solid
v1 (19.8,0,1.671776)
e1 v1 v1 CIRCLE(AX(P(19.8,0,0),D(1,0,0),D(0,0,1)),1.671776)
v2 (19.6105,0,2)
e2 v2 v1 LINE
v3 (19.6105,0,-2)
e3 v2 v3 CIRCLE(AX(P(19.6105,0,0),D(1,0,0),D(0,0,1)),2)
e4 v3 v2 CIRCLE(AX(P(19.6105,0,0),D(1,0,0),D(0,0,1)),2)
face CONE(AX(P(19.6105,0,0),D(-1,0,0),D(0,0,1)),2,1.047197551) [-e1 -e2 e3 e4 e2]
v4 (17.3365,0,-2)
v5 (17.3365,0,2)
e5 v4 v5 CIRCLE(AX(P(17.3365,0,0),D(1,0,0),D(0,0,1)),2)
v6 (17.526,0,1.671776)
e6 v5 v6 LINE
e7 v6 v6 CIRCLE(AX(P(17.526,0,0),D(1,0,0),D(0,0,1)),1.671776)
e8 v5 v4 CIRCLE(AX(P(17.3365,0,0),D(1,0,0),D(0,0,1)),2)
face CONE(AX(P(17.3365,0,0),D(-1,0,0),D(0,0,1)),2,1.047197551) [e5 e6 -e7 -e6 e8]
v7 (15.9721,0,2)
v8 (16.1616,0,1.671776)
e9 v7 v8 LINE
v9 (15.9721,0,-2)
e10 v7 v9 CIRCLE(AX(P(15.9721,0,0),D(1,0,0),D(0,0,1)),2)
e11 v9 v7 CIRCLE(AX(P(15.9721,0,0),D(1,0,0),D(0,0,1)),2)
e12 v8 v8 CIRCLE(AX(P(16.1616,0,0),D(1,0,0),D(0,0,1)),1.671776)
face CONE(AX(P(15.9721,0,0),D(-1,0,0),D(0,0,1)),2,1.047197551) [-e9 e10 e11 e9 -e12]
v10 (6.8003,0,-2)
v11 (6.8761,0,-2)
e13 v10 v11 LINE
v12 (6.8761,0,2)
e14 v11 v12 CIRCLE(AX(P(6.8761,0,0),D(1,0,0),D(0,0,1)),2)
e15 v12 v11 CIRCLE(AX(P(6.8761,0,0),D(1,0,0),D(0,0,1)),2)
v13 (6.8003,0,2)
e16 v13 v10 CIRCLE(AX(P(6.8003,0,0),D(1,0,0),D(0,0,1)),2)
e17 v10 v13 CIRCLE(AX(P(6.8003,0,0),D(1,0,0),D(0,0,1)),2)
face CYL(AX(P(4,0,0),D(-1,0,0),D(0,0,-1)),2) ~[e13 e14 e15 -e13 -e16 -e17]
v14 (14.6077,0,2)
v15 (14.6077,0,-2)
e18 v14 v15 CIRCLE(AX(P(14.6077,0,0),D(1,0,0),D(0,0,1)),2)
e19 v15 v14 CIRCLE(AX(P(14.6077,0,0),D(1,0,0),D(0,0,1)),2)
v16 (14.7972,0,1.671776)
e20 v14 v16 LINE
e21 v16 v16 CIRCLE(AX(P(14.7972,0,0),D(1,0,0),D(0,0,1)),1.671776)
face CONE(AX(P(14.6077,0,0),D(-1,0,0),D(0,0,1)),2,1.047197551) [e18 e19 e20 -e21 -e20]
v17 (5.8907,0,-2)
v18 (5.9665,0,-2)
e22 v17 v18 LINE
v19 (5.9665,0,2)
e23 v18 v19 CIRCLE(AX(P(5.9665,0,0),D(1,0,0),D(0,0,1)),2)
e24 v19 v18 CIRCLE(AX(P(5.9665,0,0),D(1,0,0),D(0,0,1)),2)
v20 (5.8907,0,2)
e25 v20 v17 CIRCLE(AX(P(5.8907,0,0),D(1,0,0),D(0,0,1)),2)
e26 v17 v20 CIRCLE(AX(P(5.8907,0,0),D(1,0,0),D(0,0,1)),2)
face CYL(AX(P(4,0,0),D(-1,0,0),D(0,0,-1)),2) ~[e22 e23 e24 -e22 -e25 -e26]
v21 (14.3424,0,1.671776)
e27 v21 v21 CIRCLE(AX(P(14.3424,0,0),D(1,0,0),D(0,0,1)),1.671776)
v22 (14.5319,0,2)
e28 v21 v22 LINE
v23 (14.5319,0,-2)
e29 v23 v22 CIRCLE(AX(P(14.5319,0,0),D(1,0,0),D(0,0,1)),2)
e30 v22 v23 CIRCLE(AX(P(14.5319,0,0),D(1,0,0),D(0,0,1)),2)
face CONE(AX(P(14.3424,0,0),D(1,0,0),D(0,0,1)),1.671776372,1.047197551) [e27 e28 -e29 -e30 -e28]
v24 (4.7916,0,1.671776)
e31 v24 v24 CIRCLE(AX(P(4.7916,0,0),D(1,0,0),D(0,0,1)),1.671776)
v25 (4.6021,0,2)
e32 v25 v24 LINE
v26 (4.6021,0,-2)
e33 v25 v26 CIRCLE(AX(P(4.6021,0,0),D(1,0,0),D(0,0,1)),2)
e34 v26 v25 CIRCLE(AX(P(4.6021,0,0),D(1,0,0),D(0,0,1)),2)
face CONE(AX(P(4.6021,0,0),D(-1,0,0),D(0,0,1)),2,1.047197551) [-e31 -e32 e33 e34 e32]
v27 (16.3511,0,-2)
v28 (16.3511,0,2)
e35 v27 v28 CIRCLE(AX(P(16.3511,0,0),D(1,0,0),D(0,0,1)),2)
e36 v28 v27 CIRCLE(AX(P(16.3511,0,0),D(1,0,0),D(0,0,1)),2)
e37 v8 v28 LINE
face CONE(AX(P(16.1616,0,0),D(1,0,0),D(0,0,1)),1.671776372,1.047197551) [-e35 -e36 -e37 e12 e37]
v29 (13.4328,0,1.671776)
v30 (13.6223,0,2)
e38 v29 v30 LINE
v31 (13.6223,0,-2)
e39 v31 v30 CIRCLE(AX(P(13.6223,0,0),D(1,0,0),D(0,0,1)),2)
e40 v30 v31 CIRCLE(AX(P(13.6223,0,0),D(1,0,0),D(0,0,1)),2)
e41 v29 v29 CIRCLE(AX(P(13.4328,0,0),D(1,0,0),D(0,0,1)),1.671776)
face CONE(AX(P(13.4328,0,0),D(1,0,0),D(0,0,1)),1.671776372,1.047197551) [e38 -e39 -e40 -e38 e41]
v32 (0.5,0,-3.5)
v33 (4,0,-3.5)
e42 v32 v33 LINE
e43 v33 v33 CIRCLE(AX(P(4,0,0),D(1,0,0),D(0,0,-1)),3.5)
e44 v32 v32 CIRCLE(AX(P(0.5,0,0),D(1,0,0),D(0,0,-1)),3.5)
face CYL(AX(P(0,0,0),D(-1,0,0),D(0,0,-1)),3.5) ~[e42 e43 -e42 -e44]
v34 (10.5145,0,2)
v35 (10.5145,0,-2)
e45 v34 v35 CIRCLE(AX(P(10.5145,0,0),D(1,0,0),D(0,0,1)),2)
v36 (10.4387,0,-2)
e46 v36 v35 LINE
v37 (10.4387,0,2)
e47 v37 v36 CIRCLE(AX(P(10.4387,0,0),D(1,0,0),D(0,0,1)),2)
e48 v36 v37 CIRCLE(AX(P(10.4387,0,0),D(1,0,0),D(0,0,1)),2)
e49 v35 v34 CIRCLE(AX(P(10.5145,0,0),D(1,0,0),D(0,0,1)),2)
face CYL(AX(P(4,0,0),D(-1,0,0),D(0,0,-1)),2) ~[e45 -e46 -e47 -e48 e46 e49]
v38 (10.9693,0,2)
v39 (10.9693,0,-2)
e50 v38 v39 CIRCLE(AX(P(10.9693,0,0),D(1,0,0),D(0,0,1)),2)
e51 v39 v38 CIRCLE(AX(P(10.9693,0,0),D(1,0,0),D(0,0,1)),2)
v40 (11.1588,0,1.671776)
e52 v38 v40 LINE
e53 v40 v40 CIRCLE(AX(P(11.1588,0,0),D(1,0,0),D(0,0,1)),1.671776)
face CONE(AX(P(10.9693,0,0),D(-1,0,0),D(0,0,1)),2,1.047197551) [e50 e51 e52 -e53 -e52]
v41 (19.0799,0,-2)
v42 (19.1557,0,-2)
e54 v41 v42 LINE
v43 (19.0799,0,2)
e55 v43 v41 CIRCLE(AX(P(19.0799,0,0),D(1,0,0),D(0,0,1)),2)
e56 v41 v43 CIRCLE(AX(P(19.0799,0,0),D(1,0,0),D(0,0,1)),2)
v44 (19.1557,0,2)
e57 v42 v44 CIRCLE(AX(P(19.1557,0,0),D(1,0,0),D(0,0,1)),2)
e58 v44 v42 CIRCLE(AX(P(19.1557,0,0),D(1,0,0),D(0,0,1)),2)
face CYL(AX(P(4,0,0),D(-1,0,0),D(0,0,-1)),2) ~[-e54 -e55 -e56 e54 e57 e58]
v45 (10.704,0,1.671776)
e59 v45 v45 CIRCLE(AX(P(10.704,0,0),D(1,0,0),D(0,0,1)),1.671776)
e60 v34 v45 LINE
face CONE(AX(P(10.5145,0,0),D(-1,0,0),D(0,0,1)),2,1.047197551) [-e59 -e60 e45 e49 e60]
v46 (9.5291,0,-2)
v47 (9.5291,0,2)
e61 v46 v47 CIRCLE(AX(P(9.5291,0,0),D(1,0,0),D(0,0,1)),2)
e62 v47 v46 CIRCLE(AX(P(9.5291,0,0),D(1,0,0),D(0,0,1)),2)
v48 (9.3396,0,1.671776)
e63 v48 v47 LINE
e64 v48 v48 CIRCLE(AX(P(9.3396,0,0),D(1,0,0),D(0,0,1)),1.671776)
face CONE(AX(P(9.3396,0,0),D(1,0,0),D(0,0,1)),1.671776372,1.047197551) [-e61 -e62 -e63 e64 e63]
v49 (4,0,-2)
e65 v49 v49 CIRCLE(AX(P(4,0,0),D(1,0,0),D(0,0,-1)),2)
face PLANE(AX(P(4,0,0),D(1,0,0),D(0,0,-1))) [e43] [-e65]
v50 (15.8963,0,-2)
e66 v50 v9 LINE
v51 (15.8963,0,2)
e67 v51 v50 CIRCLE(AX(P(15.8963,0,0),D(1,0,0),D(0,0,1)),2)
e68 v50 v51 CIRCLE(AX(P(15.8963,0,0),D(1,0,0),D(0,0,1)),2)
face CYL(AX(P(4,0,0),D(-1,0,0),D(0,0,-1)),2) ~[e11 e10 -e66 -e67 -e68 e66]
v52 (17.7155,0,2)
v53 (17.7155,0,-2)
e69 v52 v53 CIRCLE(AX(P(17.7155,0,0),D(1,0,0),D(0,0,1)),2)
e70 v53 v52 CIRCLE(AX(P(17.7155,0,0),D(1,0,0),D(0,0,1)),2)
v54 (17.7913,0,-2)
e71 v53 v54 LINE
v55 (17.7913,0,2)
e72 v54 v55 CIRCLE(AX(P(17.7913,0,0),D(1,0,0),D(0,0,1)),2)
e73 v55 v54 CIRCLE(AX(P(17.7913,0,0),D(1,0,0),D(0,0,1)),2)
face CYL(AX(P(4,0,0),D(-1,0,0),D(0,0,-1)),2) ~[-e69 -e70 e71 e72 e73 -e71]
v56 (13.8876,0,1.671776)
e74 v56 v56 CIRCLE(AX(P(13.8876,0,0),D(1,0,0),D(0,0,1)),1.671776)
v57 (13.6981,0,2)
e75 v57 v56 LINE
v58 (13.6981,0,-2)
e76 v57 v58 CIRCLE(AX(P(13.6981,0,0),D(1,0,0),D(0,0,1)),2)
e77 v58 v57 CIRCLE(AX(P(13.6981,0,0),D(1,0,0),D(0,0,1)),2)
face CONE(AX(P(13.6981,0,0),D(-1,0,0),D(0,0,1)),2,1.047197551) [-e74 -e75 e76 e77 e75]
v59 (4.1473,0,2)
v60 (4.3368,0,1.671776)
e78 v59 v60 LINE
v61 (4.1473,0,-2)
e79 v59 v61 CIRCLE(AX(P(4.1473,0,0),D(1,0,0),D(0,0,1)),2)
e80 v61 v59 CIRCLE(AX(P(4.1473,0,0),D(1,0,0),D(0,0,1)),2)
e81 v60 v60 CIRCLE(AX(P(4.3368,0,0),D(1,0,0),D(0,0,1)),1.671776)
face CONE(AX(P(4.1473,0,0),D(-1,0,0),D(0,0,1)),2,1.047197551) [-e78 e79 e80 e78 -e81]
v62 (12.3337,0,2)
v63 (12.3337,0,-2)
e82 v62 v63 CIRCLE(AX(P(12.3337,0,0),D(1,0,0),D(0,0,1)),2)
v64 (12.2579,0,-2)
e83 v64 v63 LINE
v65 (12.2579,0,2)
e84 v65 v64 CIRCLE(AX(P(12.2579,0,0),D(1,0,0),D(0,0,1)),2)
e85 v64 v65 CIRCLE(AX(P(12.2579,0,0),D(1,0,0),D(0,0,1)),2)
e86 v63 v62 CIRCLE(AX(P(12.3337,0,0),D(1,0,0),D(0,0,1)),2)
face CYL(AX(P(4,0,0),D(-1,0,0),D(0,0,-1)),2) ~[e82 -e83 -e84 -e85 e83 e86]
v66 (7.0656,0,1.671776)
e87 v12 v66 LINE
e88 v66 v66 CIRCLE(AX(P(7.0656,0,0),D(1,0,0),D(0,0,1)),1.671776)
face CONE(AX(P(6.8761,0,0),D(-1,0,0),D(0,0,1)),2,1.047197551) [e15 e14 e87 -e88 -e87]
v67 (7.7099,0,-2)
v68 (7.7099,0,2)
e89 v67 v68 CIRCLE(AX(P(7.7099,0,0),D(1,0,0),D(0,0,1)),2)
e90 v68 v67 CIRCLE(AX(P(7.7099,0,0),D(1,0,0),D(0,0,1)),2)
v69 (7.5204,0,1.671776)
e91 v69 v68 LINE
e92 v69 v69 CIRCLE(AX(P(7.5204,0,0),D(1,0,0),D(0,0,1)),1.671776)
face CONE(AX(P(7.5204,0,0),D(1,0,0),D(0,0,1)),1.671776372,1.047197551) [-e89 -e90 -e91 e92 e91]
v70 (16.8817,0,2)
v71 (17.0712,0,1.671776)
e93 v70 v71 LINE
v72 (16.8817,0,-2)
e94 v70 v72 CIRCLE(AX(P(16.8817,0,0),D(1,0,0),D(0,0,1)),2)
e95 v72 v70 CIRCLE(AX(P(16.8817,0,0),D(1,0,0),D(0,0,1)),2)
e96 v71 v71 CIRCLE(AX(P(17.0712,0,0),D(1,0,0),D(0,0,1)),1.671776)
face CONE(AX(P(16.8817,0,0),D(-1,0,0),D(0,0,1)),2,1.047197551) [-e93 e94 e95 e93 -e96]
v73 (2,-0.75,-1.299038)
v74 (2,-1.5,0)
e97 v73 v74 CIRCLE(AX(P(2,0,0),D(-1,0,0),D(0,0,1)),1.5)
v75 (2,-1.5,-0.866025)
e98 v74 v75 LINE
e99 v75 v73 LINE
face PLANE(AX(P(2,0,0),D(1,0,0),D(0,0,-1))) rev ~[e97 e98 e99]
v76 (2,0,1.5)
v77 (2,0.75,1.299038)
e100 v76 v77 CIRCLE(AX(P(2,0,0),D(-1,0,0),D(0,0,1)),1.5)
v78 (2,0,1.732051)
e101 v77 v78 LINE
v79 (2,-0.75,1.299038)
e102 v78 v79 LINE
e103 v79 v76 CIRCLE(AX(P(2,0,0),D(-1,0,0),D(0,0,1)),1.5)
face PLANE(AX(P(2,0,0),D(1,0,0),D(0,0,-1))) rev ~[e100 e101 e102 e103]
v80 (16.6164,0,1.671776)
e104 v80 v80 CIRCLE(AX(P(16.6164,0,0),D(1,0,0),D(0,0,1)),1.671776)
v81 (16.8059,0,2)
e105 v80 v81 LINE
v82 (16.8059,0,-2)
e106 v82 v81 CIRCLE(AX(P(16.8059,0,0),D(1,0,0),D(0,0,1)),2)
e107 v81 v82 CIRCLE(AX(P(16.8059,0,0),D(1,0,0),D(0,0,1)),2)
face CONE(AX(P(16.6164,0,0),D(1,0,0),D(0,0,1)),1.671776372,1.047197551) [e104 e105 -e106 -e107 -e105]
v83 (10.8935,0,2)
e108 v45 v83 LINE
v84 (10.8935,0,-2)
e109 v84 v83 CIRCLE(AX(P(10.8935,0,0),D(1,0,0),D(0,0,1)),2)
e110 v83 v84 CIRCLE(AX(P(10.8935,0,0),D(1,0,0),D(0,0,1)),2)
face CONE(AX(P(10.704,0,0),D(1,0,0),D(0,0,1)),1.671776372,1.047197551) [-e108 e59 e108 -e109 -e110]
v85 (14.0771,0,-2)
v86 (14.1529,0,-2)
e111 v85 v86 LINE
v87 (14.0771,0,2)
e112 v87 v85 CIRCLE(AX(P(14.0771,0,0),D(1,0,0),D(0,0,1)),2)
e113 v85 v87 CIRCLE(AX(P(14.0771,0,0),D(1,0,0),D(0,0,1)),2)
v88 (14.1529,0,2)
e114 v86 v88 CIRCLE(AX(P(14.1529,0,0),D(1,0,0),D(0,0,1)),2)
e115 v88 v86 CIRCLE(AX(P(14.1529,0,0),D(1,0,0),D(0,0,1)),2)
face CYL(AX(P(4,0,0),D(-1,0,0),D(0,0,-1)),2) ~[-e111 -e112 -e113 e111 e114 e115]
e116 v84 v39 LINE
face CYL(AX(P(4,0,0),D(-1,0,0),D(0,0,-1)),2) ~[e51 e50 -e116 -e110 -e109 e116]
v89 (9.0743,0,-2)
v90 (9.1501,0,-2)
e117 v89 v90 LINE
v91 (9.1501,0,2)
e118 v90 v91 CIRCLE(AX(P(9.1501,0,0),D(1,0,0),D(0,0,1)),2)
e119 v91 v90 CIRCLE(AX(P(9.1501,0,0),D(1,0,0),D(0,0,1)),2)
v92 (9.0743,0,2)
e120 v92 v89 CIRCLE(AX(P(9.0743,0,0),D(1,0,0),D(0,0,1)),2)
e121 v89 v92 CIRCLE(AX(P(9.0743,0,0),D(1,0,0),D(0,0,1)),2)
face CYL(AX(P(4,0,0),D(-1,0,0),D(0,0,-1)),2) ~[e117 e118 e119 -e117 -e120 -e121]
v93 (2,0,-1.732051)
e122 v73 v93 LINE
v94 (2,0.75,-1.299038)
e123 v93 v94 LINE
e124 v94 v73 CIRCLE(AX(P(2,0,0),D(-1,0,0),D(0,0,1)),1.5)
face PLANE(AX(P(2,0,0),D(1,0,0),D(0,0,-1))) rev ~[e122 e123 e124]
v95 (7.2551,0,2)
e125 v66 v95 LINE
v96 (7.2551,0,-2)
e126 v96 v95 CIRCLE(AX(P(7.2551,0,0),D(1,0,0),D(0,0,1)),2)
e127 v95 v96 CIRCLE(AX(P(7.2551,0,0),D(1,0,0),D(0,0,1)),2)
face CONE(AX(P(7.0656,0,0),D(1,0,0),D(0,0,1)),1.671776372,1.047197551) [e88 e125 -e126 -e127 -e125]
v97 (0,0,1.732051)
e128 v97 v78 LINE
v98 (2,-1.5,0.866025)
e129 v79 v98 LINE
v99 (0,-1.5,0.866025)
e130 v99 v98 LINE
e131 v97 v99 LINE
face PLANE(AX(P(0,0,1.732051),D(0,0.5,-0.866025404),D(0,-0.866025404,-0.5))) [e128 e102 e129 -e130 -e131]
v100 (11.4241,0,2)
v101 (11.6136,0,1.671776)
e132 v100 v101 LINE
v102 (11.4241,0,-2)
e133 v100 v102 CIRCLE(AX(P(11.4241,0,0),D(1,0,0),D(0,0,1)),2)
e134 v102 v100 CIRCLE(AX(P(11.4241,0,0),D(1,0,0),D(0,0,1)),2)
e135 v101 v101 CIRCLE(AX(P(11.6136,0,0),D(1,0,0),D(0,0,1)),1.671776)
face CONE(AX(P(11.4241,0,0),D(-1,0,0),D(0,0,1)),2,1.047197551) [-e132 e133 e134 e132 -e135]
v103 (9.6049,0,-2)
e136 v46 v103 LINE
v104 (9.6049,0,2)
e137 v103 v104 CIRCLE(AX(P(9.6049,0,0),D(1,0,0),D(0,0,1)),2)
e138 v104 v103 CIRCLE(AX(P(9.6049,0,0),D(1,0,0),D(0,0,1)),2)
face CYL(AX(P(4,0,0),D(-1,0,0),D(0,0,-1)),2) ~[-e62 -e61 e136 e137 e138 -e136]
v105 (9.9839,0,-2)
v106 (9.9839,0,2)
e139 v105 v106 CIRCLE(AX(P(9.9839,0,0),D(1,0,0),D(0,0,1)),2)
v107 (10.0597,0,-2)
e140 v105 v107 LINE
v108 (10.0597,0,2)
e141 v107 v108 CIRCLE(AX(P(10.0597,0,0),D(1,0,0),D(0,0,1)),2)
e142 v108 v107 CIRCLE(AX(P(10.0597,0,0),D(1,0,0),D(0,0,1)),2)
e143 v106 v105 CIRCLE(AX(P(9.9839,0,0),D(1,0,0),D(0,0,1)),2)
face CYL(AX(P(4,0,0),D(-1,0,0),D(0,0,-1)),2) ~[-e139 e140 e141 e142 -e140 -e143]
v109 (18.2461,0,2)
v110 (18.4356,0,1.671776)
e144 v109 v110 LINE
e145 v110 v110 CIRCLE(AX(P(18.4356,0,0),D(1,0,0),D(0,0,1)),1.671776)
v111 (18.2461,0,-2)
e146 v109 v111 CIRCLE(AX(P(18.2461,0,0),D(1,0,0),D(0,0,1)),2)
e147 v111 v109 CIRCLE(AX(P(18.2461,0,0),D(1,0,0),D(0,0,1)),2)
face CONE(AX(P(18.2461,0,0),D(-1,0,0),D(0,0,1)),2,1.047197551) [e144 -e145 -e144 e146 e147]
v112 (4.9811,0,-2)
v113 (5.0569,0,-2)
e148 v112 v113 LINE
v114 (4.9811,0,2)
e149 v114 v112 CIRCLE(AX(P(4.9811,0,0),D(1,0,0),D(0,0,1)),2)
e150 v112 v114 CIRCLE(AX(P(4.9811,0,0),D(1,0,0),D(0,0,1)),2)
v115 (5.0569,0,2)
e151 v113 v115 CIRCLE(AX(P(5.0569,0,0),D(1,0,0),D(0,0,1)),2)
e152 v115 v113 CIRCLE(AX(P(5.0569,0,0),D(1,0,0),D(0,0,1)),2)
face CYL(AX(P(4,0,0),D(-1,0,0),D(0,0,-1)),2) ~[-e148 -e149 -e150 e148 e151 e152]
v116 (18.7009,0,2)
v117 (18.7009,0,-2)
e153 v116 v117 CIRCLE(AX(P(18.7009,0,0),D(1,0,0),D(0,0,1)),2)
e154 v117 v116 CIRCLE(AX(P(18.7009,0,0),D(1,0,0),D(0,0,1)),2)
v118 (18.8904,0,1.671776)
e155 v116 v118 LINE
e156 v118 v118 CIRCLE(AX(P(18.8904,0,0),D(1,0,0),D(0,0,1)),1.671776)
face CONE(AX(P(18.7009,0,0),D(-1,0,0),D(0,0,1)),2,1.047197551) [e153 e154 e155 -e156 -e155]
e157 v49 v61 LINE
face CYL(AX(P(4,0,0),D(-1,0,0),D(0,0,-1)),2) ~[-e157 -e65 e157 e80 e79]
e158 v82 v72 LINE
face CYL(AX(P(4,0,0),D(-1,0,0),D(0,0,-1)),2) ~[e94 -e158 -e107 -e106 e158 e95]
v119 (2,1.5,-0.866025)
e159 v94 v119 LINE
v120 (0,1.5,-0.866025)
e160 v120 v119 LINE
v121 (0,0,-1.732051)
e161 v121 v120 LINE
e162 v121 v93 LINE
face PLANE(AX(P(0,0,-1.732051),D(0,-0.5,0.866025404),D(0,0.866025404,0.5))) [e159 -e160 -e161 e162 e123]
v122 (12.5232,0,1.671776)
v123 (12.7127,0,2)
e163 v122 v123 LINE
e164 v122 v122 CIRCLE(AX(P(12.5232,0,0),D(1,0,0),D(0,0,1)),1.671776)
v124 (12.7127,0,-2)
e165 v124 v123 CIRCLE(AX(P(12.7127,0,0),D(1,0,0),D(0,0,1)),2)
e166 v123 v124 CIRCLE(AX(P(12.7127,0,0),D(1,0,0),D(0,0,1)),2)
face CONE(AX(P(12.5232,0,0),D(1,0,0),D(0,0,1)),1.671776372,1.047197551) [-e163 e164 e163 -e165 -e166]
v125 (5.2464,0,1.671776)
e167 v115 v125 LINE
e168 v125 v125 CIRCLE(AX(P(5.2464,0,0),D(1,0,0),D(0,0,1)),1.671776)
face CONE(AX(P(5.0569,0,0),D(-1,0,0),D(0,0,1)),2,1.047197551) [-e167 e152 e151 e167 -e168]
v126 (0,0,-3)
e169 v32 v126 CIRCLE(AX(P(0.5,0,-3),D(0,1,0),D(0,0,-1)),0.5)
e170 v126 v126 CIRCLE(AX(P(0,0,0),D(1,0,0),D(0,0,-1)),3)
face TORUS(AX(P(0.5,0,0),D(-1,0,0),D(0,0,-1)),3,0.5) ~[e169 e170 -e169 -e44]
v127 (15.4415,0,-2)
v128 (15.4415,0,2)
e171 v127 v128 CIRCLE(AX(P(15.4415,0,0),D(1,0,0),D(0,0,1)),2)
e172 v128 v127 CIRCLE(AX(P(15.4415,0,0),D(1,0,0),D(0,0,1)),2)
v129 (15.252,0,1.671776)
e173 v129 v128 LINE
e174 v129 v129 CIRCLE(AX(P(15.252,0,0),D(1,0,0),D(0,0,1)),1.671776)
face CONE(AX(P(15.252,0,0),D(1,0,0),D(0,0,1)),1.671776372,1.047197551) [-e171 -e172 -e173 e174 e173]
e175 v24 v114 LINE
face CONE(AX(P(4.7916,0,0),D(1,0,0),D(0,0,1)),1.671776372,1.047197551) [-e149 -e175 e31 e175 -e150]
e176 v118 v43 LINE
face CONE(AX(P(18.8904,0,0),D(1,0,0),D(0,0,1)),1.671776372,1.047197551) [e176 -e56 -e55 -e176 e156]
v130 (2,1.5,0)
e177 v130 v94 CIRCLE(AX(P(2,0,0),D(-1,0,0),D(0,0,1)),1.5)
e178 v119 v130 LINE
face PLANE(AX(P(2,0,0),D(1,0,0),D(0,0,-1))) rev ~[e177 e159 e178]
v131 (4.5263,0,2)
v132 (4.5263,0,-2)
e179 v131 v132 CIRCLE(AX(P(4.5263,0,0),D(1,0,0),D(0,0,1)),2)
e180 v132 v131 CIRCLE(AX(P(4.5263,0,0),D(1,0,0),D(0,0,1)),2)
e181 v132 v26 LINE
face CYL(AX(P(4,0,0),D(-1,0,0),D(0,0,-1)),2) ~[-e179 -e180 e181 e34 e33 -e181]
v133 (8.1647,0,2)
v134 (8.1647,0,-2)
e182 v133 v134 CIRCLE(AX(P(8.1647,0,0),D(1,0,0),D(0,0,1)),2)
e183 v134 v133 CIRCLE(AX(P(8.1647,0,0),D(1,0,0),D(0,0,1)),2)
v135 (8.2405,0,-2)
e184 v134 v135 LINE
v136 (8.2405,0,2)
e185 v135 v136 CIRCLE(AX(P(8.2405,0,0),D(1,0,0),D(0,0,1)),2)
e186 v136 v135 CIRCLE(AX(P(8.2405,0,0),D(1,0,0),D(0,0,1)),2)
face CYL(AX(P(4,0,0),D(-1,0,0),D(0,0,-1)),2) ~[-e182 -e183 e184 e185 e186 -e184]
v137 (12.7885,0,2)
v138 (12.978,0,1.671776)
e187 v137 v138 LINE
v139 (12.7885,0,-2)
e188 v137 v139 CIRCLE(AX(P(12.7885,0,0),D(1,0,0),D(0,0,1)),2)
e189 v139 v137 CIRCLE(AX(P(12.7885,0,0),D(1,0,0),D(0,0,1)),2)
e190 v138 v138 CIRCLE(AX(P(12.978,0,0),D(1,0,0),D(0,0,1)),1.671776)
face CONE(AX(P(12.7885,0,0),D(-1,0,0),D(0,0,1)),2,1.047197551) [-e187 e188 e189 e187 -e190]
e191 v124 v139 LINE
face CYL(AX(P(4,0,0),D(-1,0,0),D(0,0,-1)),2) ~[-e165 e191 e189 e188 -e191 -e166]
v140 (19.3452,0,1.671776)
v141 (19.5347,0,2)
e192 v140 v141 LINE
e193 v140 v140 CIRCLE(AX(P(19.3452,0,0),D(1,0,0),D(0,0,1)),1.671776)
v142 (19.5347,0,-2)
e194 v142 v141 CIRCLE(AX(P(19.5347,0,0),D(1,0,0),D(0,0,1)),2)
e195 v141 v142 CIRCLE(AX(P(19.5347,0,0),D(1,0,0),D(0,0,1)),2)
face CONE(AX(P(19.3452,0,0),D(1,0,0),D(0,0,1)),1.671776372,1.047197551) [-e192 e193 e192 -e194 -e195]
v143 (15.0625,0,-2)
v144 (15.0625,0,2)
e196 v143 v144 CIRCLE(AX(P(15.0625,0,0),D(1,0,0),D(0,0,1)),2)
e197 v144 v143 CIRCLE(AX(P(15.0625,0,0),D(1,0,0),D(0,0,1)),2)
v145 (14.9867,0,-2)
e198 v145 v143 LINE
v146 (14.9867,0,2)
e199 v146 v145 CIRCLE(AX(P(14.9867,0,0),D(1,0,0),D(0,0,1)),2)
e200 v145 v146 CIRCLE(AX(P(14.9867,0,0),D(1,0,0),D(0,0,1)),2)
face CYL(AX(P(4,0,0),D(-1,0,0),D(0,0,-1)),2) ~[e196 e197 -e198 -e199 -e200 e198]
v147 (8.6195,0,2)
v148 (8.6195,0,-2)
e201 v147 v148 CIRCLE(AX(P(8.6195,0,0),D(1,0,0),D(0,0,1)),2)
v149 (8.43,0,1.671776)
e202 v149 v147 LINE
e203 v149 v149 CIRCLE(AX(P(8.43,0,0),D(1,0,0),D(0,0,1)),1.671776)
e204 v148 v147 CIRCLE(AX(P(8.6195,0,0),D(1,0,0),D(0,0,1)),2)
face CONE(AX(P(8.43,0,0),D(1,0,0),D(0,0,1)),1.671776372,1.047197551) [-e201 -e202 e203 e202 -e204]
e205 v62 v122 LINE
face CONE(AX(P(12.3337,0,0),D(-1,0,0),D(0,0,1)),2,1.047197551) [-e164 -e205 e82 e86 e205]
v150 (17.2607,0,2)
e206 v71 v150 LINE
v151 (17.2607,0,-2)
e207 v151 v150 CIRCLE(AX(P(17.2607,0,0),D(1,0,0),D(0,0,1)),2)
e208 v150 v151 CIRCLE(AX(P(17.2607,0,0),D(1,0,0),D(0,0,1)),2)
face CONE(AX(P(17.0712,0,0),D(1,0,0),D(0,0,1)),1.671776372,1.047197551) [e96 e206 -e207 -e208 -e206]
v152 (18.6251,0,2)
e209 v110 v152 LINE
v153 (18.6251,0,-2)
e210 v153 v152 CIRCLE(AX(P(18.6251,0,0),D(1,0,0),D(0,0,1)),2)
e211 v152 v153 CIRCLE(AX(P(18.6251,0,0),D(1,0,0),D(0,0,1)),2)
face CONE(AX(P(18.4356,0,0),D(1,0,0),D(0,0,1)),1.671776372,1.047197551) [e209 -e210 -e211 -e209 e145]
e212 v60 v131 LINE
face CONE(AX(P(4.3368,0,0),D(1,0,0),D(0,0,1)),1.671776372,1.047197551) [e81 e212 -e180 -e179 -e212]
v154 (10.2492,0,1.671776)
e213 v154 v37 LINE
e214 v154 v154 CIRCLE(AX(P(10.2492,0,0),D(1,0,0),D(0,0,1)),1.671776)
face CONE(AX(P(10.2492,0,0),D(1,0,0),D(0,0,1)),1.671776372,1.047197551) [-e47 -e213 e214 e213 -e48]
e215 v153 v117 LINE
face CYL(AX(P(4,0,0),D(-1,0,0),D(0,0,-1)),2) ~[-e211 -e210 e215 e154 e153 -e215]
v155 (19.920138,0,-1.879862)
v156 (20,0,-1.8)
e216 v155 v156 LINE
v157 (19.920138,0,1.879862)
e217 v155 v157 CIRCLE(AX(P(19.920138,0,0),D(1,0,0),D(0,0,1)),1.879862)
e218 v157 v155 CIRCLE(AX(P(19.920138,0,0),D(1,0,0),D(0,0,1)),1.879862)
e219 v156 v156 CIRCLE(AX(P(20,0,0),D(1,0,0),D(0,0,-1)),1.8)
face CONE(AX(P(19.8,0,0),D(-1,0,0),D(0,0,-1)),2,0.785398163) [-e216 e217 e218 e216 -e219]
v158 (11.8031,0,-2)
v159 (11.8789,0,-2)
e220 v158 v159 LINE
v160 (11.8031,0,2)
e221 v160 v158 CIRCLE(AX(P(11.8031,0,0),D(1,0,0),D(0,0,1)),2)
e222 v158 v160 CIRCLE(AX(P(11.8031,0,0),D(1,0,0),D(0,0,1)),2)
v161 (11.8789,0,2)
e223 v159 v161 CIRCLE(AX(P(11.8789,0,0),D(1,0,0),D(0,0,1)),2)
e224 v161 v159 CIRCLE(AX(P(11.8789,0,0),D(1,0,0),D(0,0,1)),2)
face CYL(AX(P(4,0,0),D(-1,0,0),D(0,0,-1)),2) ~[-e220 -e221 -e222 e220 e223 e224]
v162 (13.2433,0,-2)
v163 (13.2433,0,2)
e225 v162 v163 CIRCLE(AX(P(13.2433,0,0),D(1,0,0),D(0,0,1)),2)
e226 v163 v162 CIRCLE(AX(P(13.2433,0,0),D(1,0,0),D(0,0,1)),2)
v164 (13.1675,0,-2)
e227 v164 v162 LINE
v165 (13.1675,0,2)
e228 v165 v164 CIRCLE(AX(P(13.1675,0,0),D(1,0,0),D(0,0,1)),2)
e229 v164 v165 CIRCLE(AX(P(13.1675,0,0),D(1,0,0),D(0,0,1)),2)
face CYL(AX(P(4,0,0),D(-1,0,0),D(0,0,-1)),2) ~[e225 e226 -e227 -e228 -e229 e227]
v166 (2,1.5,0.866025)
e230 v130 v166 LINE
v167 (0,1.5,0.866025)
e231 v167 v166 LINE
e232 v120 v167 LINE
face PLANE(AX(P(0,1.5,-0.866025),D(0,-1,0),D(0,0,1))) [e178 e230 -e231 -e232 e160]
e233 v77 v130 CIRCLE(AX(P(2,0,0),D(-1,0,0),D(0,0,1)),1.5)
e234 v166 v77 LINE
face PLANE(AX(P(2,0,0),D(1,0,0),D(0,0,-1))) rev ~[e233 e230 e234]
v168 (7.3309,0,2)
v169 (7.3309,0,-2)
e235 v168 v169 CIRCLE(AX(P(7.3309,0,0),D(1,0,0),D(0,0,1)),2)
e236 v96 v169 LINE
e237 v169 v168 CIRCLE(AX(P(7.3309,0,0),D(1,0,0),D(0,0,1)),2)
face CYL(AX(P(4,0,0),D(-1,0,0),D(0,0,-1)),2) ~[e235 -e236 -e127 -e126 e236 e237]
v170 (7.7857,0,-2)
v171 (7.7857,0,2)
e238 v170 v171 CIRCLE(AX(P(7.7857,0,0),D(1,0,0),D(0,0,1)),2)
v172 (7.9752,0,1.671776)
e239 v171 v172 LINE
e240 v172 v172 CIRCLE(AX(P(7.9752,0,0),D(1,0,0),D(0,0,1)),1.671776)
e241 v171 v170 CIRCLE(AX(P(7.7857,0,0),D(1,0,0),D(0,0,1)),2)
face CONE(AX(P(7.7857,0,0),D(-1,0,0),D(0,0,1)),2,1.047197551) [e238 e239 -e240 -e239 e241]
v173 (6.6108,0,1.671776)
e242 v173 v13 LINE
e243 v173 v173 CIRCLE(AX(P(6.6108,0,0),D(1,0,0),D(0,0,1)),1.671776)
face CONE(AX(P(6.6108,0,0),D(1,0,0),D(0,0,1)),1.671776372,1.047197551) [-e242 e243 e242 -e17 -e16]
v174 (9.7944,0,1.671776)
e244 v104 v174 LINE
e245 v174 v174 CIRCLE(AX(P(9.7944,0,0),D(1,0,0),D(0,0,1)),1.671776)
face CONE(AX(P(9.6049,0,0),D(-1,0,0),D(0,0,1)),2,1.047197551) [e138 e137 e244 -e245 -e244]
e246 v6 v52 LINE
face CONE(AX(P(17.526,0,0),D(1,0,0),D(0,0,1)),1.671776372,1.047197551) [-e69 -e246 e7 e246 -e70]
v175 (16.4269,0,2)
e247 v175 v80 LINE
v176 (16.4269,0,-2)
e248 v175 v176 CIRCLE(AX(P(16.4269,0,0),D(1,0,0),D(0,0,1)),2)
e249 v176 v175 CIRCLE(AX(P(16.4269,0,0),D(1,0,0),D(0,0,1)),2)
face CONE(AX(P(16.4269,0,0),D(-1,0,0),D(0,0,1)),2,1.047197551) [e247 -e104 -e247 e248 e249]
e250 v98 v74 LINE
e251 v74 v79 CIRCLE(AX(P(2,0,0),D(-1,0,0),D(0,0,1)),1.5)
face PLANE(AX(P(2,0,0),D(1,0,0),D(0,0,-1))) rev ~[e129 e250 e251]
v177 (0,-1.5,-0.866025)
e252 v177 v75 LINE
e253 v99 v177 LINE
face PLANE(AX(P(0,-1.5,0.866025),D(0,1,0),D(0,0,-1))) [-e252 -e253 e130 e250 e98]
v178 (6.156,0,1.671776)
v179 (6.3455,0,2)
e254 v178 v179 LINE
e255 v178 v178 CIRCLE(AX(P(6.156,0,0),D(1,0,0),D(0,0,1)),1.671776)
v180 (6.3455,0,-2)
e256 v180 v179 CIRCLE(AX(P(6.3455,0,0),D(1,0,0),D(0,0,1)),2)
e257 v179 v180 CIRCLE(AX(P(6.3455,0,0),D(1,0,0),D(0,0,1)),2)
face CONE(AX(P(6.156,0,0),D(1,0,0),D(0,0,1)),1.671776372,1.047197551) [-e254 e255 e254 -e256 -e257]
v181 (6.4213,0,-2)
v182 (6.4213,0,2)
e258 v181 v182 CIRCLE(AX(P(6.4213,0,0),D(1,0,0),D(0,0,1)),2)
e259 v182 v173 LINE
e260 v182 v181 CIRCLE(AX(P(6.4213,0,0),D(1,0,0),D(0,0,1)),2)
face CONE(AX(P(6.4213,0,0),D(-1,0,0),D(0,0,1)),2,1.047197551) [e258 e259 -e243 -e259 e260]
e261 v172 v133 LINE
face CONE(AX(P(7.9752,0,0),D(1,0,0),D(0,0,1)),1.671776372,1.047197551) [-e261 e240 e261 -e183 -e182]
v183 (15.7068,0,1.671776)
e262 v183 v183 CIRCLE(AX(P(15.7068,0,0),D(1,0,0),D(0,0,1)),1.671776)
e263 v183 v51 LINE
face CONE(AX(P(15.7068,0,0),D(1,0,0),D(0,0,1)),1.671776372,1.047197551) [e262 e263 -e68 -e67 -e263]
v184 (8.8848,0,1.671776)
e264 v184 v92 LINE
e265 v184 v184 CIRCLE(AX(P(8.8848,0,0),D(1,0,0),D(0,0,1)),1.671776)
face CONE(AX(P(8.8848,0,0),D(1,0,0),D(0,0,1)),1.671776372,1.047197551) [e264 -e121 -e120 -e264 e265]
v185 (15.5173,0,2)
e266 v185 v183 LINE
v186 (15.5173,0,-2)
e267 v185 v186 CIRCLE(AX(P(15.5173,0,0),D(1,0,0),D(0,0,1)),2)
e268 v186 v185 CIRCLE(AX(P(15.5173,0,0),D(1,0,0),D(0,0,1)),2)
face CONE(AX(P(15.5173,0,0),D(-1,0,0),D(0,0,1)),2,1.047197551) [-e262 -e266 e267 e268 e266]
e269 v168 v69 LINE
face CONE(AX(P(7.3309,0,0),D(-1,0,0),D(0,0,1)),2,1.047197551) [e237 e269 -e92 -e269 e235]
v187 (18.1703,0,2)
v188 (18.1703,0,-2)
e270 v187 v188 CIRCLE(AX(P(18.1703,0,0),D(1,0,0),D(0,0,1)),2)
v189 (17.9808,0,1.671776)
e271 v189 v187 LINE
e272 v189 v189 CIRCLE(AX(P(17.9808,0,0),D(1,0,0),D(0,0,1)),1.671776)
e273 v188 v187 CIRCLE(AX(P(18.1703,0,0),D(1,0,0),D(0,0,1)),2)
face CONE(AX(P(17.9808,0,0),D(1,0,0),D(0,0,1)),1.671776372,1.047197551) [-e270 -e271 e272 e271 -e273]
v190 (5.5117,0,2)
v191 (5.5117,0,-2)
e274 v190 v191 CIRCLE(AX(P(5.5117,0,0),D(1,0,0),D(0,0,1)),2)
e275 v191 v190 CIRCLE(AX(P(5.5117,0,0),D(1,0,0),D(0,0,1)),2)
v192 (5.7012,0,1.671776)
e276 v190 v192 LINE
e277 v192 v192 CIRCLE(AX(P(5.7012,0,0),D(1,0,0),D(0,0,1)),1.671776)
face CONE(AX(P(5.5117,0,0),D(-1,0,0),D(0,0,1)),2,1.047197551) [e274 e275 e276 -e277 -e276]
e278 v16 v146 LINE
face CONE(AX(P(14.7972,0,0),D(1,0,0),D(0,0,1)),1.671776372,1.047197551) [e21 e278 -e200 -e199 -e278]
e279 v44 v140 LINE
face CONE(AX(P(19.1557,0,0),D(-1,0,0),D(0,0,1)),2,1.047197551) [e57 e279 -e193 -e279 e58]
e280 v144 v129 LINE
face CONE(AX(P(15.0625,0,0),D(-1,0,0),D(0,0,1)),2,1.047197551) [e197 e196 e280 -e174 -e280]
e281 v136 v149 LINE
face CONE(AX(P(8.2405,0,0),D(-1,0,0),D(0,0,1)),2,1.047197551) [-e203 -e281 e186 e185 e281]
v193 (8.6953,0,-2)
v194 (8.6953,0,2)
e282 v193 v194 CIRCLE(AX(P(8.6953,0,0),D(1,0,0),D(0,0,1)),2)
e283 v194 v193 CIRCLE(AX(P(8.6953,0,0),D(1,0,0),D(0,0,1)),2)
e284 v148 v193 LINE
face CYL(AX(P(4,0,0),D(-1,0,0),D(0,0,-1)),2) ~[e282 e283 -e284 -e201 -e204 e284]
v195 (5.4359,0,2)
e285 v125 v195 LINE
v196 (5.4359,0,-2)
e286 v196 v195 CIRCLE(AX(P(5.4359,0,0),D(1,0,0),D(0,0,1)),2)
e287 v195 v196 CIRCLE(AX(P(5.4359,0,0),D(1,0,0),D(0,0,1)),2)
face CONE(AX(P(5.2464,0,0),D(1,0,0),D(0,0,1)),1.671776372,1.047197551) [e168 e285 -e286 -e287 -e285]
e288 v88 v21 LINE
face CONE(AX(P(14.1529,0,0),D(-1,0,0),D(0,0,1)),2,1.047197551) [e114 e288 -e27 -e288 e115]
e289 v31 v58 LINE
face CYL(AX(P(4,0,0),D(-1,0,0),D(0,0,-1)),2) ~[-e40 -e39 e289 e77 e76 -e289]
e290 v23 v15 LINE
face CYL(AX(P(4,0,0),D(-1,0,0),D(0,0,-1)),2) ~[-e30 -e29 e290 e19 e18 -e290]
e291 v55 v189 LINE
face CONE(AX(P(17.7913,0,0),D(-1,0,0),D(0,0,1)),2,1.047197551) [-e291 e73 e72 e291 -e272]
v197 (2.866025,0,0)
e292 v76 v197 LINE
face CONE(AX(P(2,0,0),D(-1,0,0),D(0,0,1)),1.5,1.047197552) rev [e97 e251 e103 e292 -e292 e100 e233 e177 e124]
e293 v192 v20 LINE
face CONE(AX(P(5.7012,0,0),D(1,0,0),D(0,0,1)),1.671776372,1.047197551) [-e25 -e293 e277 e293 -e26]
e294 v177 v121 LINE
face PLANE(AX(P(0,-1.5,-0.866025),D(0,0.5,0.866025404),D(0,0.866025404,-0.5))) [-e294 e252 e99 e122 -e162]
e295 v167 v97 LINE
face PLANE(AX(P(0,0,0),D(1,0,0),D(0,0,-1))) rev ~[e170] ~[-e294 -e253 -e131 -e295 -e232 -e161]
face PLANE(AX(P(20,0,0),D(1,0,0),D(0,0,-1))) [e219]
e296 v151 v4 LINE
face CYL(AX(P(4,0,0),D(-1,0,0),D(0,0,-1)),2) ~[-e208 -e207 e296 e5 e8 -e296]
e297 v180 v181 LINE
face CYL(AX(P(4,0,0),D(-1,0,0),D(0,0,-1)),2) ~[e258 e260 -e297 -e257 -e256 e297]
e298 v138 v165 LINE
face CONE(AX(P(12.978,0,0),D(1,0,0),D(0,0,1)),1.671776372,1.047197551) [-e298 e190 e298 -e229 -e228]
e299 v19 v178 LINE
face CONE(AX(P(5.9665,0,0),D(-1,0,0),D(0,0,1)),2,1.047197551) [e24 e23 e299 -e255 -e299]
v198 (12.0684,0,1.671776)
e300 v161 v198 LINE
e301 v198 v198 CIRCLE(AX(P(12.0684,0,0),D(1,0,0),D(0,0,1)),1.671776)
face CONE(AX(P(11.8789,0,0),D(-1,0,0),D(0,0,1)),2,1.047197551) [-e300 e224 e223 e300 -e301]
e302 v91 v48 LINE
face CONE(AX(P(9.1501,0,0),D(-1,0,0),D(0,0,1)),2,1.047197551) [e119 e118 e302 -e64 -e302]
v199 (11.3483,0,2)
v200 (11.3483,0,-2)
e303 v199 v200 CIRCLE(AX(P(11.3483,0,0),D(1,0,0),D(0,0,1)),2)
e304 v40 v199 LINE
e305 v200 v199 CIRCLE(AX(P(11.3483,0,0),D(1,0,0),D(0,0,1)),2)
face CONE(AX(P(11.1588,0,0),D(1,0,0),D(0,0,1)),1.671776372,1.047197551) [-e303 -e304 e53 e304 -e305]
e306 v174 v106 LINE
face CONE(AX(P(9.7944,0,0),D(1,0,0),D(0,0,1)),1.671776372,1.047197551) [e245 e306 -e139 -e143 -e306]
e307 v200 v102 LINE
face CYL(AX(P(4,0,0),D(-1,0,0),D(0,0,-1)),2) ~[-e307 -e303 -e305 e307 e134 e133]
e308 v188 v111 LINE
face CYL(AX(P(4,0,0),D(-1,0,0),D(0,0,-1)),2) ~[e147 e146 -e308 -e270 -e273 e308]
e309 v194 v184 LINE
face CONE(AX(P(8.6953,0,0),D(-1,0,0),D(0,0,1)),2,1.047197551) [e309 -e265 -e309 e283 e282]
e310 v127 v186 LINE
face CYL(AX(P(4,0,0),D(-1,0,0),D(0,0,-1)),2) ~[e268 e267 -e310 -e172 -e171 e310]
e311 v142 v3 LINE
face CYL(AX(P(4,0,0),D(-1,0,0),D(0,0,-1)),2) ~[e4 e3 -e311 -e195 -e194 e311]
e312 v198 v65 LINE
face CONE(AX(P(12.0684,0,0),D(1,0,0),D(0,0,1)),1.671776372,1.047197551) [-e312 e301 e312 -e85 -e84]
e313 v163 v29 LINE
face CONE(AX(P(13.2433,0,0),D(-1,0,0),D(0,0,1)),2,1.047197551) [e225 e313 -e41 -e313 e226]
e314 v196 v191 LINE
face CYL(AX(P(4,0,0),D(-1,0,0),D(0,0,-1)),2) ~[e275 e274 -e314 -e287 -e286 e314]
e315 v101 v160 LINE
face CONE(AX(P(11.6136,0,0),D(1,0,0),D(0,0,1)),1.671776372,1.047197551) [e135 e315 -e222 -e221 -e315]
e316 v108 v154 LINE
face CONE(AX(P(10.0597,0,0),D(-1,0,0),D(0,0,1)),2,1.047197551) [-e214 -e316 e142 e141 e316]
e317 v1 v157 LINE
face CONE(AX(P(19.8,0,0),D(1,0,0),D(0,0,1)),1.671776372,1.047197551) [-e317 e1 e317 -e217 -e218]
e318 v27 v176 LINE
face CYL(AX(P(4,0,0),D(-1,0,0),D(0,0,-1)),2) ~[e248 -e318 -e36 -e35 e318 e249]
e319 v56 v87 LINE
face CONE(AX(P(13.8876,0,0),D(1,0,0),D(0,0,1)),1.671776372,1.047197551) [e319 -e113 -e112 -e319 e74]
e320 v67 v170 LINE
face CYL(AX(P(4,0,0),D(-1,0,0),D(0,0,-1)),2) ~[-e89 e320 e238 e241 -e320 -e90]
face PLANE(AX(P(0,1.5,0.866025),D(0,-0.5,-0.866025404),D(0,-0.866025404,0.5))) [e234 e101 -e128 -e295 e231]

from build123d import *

# Parameters (mm, degrees)
SKETCH1_R           = 3.5
BASEHEAD_DEPTH      = 4
SKETCH2_R           = 2
BASEBODY_DEPTH      = 16
HEXAGONSOCKET_DEPTH = 2
TOPFILLET_R         = 0.5
CHAMFER1_SIZE       = 0.2
LPATTERN10_COUNT    = 35
LPATTERN10_PITCH    = 0.4548


with BuildPart() as part:
    # Sketch1 → BaseHead (new body)
    with BuildSketch(Plane(origin=(0, 0, 0), x_dir=(0, 0, -1), z_dir=(1, 0, 0))):
        Circle(SKETCH1_R)
    extrude(amount=BASEHEAD_DEPTH)

    # Sketch2 → BaseBody (add)
    with BuildSketch(Plane(origin=(4, 0, 0), x_dir=(0, 0, -1), z_dir=(1, 0, 0))):
        Circle(SKETCH2_R)
    extrude(amount=BASEBODY_DEPTH)

    # Sketch3 → HexagonSocket (cut)
    with BuildSketch(Plane(origin=(0, 0, 0), x_dir=(0, 0, -1), z_dir=(1, 0, 0))):
        Polygon((1.732050808, 0), (0.866025404, 1.5), (-0.866025404, 1.5), (-1.732050808, 0), (-0.866025404, -1.5), (0.866025404, -1.5), align=None)
    extrude(amount=HEXAGONSOCKET_DEPTH, mode=Mode.SUBTRACT)

    # Sketch4 → Cut-Revolve1 (revolve, cut)
    with BuildSketch(Plane(origin=(-4.19613823, 0.75, 0), x_dir=(-1, 0, 0), z_dir=(0, 0, 1)), mode=Mode.PRIVATE) as cut_revolve1_sk:
        Polygon((-6.19613823, 2.25), (-7.062163633, 0.75), (-6.19613823, 0.75), align=None)
    revolve(cut_revolve1_sk.sketch.rotate(Axis((0.838992387, 0, 0), (-1, 0, 0)), 90), axis=Axis((0.838992387, 0, 0), (-1, 0, 0)), mode=Mode.SUBTRACT)

    # TopFillet
    topfillet_edges = [part.edges().sort_by_distance(p)[0] for p in [
        (0, 0, 3.5),
    ]]
    fillet(topfillet_edges, radius=TOPFILLET_R)

    # Chamfer1
    chamfer1_edges = [part.edges().sort_by_distance(p)[0] for p in [
        (20, 0, 2),
    ]]
    chamfer(chamfer1_edges, length=CHAMFER1_SIZE)

    # Sketch5 → Cut-Revolve10 (revolve, cut)
    with BuildSketch(Plane.XY, mode=Mode.PRIVATE) as cut_revolve10_sk:
        Polygon((19.8, 1.671776372), (19.9895, 2), (19.9895, 2.379), (19.6105, 2.379), (19.6105, 2), align=None)
    cut_revolve10 = revolve(cut_revolve10_sk.sketch.rotate(Axis((0, 0, 0), (1, 0, 0)), 90), axis=Axis((0, 0, 0), (1, 0, 0)), mode=Mode.SUBTRACT)

    # LPattern10: Cut-Revolve10 ×35
    with Locations(*[(-i * LPATTERN10_PITCH, 0, 0) for i in range(1, LPATTERN10_COUNT)]):
        add(cut_revolve10, mode=Mode.SUBTRACT)


solid = part.part
